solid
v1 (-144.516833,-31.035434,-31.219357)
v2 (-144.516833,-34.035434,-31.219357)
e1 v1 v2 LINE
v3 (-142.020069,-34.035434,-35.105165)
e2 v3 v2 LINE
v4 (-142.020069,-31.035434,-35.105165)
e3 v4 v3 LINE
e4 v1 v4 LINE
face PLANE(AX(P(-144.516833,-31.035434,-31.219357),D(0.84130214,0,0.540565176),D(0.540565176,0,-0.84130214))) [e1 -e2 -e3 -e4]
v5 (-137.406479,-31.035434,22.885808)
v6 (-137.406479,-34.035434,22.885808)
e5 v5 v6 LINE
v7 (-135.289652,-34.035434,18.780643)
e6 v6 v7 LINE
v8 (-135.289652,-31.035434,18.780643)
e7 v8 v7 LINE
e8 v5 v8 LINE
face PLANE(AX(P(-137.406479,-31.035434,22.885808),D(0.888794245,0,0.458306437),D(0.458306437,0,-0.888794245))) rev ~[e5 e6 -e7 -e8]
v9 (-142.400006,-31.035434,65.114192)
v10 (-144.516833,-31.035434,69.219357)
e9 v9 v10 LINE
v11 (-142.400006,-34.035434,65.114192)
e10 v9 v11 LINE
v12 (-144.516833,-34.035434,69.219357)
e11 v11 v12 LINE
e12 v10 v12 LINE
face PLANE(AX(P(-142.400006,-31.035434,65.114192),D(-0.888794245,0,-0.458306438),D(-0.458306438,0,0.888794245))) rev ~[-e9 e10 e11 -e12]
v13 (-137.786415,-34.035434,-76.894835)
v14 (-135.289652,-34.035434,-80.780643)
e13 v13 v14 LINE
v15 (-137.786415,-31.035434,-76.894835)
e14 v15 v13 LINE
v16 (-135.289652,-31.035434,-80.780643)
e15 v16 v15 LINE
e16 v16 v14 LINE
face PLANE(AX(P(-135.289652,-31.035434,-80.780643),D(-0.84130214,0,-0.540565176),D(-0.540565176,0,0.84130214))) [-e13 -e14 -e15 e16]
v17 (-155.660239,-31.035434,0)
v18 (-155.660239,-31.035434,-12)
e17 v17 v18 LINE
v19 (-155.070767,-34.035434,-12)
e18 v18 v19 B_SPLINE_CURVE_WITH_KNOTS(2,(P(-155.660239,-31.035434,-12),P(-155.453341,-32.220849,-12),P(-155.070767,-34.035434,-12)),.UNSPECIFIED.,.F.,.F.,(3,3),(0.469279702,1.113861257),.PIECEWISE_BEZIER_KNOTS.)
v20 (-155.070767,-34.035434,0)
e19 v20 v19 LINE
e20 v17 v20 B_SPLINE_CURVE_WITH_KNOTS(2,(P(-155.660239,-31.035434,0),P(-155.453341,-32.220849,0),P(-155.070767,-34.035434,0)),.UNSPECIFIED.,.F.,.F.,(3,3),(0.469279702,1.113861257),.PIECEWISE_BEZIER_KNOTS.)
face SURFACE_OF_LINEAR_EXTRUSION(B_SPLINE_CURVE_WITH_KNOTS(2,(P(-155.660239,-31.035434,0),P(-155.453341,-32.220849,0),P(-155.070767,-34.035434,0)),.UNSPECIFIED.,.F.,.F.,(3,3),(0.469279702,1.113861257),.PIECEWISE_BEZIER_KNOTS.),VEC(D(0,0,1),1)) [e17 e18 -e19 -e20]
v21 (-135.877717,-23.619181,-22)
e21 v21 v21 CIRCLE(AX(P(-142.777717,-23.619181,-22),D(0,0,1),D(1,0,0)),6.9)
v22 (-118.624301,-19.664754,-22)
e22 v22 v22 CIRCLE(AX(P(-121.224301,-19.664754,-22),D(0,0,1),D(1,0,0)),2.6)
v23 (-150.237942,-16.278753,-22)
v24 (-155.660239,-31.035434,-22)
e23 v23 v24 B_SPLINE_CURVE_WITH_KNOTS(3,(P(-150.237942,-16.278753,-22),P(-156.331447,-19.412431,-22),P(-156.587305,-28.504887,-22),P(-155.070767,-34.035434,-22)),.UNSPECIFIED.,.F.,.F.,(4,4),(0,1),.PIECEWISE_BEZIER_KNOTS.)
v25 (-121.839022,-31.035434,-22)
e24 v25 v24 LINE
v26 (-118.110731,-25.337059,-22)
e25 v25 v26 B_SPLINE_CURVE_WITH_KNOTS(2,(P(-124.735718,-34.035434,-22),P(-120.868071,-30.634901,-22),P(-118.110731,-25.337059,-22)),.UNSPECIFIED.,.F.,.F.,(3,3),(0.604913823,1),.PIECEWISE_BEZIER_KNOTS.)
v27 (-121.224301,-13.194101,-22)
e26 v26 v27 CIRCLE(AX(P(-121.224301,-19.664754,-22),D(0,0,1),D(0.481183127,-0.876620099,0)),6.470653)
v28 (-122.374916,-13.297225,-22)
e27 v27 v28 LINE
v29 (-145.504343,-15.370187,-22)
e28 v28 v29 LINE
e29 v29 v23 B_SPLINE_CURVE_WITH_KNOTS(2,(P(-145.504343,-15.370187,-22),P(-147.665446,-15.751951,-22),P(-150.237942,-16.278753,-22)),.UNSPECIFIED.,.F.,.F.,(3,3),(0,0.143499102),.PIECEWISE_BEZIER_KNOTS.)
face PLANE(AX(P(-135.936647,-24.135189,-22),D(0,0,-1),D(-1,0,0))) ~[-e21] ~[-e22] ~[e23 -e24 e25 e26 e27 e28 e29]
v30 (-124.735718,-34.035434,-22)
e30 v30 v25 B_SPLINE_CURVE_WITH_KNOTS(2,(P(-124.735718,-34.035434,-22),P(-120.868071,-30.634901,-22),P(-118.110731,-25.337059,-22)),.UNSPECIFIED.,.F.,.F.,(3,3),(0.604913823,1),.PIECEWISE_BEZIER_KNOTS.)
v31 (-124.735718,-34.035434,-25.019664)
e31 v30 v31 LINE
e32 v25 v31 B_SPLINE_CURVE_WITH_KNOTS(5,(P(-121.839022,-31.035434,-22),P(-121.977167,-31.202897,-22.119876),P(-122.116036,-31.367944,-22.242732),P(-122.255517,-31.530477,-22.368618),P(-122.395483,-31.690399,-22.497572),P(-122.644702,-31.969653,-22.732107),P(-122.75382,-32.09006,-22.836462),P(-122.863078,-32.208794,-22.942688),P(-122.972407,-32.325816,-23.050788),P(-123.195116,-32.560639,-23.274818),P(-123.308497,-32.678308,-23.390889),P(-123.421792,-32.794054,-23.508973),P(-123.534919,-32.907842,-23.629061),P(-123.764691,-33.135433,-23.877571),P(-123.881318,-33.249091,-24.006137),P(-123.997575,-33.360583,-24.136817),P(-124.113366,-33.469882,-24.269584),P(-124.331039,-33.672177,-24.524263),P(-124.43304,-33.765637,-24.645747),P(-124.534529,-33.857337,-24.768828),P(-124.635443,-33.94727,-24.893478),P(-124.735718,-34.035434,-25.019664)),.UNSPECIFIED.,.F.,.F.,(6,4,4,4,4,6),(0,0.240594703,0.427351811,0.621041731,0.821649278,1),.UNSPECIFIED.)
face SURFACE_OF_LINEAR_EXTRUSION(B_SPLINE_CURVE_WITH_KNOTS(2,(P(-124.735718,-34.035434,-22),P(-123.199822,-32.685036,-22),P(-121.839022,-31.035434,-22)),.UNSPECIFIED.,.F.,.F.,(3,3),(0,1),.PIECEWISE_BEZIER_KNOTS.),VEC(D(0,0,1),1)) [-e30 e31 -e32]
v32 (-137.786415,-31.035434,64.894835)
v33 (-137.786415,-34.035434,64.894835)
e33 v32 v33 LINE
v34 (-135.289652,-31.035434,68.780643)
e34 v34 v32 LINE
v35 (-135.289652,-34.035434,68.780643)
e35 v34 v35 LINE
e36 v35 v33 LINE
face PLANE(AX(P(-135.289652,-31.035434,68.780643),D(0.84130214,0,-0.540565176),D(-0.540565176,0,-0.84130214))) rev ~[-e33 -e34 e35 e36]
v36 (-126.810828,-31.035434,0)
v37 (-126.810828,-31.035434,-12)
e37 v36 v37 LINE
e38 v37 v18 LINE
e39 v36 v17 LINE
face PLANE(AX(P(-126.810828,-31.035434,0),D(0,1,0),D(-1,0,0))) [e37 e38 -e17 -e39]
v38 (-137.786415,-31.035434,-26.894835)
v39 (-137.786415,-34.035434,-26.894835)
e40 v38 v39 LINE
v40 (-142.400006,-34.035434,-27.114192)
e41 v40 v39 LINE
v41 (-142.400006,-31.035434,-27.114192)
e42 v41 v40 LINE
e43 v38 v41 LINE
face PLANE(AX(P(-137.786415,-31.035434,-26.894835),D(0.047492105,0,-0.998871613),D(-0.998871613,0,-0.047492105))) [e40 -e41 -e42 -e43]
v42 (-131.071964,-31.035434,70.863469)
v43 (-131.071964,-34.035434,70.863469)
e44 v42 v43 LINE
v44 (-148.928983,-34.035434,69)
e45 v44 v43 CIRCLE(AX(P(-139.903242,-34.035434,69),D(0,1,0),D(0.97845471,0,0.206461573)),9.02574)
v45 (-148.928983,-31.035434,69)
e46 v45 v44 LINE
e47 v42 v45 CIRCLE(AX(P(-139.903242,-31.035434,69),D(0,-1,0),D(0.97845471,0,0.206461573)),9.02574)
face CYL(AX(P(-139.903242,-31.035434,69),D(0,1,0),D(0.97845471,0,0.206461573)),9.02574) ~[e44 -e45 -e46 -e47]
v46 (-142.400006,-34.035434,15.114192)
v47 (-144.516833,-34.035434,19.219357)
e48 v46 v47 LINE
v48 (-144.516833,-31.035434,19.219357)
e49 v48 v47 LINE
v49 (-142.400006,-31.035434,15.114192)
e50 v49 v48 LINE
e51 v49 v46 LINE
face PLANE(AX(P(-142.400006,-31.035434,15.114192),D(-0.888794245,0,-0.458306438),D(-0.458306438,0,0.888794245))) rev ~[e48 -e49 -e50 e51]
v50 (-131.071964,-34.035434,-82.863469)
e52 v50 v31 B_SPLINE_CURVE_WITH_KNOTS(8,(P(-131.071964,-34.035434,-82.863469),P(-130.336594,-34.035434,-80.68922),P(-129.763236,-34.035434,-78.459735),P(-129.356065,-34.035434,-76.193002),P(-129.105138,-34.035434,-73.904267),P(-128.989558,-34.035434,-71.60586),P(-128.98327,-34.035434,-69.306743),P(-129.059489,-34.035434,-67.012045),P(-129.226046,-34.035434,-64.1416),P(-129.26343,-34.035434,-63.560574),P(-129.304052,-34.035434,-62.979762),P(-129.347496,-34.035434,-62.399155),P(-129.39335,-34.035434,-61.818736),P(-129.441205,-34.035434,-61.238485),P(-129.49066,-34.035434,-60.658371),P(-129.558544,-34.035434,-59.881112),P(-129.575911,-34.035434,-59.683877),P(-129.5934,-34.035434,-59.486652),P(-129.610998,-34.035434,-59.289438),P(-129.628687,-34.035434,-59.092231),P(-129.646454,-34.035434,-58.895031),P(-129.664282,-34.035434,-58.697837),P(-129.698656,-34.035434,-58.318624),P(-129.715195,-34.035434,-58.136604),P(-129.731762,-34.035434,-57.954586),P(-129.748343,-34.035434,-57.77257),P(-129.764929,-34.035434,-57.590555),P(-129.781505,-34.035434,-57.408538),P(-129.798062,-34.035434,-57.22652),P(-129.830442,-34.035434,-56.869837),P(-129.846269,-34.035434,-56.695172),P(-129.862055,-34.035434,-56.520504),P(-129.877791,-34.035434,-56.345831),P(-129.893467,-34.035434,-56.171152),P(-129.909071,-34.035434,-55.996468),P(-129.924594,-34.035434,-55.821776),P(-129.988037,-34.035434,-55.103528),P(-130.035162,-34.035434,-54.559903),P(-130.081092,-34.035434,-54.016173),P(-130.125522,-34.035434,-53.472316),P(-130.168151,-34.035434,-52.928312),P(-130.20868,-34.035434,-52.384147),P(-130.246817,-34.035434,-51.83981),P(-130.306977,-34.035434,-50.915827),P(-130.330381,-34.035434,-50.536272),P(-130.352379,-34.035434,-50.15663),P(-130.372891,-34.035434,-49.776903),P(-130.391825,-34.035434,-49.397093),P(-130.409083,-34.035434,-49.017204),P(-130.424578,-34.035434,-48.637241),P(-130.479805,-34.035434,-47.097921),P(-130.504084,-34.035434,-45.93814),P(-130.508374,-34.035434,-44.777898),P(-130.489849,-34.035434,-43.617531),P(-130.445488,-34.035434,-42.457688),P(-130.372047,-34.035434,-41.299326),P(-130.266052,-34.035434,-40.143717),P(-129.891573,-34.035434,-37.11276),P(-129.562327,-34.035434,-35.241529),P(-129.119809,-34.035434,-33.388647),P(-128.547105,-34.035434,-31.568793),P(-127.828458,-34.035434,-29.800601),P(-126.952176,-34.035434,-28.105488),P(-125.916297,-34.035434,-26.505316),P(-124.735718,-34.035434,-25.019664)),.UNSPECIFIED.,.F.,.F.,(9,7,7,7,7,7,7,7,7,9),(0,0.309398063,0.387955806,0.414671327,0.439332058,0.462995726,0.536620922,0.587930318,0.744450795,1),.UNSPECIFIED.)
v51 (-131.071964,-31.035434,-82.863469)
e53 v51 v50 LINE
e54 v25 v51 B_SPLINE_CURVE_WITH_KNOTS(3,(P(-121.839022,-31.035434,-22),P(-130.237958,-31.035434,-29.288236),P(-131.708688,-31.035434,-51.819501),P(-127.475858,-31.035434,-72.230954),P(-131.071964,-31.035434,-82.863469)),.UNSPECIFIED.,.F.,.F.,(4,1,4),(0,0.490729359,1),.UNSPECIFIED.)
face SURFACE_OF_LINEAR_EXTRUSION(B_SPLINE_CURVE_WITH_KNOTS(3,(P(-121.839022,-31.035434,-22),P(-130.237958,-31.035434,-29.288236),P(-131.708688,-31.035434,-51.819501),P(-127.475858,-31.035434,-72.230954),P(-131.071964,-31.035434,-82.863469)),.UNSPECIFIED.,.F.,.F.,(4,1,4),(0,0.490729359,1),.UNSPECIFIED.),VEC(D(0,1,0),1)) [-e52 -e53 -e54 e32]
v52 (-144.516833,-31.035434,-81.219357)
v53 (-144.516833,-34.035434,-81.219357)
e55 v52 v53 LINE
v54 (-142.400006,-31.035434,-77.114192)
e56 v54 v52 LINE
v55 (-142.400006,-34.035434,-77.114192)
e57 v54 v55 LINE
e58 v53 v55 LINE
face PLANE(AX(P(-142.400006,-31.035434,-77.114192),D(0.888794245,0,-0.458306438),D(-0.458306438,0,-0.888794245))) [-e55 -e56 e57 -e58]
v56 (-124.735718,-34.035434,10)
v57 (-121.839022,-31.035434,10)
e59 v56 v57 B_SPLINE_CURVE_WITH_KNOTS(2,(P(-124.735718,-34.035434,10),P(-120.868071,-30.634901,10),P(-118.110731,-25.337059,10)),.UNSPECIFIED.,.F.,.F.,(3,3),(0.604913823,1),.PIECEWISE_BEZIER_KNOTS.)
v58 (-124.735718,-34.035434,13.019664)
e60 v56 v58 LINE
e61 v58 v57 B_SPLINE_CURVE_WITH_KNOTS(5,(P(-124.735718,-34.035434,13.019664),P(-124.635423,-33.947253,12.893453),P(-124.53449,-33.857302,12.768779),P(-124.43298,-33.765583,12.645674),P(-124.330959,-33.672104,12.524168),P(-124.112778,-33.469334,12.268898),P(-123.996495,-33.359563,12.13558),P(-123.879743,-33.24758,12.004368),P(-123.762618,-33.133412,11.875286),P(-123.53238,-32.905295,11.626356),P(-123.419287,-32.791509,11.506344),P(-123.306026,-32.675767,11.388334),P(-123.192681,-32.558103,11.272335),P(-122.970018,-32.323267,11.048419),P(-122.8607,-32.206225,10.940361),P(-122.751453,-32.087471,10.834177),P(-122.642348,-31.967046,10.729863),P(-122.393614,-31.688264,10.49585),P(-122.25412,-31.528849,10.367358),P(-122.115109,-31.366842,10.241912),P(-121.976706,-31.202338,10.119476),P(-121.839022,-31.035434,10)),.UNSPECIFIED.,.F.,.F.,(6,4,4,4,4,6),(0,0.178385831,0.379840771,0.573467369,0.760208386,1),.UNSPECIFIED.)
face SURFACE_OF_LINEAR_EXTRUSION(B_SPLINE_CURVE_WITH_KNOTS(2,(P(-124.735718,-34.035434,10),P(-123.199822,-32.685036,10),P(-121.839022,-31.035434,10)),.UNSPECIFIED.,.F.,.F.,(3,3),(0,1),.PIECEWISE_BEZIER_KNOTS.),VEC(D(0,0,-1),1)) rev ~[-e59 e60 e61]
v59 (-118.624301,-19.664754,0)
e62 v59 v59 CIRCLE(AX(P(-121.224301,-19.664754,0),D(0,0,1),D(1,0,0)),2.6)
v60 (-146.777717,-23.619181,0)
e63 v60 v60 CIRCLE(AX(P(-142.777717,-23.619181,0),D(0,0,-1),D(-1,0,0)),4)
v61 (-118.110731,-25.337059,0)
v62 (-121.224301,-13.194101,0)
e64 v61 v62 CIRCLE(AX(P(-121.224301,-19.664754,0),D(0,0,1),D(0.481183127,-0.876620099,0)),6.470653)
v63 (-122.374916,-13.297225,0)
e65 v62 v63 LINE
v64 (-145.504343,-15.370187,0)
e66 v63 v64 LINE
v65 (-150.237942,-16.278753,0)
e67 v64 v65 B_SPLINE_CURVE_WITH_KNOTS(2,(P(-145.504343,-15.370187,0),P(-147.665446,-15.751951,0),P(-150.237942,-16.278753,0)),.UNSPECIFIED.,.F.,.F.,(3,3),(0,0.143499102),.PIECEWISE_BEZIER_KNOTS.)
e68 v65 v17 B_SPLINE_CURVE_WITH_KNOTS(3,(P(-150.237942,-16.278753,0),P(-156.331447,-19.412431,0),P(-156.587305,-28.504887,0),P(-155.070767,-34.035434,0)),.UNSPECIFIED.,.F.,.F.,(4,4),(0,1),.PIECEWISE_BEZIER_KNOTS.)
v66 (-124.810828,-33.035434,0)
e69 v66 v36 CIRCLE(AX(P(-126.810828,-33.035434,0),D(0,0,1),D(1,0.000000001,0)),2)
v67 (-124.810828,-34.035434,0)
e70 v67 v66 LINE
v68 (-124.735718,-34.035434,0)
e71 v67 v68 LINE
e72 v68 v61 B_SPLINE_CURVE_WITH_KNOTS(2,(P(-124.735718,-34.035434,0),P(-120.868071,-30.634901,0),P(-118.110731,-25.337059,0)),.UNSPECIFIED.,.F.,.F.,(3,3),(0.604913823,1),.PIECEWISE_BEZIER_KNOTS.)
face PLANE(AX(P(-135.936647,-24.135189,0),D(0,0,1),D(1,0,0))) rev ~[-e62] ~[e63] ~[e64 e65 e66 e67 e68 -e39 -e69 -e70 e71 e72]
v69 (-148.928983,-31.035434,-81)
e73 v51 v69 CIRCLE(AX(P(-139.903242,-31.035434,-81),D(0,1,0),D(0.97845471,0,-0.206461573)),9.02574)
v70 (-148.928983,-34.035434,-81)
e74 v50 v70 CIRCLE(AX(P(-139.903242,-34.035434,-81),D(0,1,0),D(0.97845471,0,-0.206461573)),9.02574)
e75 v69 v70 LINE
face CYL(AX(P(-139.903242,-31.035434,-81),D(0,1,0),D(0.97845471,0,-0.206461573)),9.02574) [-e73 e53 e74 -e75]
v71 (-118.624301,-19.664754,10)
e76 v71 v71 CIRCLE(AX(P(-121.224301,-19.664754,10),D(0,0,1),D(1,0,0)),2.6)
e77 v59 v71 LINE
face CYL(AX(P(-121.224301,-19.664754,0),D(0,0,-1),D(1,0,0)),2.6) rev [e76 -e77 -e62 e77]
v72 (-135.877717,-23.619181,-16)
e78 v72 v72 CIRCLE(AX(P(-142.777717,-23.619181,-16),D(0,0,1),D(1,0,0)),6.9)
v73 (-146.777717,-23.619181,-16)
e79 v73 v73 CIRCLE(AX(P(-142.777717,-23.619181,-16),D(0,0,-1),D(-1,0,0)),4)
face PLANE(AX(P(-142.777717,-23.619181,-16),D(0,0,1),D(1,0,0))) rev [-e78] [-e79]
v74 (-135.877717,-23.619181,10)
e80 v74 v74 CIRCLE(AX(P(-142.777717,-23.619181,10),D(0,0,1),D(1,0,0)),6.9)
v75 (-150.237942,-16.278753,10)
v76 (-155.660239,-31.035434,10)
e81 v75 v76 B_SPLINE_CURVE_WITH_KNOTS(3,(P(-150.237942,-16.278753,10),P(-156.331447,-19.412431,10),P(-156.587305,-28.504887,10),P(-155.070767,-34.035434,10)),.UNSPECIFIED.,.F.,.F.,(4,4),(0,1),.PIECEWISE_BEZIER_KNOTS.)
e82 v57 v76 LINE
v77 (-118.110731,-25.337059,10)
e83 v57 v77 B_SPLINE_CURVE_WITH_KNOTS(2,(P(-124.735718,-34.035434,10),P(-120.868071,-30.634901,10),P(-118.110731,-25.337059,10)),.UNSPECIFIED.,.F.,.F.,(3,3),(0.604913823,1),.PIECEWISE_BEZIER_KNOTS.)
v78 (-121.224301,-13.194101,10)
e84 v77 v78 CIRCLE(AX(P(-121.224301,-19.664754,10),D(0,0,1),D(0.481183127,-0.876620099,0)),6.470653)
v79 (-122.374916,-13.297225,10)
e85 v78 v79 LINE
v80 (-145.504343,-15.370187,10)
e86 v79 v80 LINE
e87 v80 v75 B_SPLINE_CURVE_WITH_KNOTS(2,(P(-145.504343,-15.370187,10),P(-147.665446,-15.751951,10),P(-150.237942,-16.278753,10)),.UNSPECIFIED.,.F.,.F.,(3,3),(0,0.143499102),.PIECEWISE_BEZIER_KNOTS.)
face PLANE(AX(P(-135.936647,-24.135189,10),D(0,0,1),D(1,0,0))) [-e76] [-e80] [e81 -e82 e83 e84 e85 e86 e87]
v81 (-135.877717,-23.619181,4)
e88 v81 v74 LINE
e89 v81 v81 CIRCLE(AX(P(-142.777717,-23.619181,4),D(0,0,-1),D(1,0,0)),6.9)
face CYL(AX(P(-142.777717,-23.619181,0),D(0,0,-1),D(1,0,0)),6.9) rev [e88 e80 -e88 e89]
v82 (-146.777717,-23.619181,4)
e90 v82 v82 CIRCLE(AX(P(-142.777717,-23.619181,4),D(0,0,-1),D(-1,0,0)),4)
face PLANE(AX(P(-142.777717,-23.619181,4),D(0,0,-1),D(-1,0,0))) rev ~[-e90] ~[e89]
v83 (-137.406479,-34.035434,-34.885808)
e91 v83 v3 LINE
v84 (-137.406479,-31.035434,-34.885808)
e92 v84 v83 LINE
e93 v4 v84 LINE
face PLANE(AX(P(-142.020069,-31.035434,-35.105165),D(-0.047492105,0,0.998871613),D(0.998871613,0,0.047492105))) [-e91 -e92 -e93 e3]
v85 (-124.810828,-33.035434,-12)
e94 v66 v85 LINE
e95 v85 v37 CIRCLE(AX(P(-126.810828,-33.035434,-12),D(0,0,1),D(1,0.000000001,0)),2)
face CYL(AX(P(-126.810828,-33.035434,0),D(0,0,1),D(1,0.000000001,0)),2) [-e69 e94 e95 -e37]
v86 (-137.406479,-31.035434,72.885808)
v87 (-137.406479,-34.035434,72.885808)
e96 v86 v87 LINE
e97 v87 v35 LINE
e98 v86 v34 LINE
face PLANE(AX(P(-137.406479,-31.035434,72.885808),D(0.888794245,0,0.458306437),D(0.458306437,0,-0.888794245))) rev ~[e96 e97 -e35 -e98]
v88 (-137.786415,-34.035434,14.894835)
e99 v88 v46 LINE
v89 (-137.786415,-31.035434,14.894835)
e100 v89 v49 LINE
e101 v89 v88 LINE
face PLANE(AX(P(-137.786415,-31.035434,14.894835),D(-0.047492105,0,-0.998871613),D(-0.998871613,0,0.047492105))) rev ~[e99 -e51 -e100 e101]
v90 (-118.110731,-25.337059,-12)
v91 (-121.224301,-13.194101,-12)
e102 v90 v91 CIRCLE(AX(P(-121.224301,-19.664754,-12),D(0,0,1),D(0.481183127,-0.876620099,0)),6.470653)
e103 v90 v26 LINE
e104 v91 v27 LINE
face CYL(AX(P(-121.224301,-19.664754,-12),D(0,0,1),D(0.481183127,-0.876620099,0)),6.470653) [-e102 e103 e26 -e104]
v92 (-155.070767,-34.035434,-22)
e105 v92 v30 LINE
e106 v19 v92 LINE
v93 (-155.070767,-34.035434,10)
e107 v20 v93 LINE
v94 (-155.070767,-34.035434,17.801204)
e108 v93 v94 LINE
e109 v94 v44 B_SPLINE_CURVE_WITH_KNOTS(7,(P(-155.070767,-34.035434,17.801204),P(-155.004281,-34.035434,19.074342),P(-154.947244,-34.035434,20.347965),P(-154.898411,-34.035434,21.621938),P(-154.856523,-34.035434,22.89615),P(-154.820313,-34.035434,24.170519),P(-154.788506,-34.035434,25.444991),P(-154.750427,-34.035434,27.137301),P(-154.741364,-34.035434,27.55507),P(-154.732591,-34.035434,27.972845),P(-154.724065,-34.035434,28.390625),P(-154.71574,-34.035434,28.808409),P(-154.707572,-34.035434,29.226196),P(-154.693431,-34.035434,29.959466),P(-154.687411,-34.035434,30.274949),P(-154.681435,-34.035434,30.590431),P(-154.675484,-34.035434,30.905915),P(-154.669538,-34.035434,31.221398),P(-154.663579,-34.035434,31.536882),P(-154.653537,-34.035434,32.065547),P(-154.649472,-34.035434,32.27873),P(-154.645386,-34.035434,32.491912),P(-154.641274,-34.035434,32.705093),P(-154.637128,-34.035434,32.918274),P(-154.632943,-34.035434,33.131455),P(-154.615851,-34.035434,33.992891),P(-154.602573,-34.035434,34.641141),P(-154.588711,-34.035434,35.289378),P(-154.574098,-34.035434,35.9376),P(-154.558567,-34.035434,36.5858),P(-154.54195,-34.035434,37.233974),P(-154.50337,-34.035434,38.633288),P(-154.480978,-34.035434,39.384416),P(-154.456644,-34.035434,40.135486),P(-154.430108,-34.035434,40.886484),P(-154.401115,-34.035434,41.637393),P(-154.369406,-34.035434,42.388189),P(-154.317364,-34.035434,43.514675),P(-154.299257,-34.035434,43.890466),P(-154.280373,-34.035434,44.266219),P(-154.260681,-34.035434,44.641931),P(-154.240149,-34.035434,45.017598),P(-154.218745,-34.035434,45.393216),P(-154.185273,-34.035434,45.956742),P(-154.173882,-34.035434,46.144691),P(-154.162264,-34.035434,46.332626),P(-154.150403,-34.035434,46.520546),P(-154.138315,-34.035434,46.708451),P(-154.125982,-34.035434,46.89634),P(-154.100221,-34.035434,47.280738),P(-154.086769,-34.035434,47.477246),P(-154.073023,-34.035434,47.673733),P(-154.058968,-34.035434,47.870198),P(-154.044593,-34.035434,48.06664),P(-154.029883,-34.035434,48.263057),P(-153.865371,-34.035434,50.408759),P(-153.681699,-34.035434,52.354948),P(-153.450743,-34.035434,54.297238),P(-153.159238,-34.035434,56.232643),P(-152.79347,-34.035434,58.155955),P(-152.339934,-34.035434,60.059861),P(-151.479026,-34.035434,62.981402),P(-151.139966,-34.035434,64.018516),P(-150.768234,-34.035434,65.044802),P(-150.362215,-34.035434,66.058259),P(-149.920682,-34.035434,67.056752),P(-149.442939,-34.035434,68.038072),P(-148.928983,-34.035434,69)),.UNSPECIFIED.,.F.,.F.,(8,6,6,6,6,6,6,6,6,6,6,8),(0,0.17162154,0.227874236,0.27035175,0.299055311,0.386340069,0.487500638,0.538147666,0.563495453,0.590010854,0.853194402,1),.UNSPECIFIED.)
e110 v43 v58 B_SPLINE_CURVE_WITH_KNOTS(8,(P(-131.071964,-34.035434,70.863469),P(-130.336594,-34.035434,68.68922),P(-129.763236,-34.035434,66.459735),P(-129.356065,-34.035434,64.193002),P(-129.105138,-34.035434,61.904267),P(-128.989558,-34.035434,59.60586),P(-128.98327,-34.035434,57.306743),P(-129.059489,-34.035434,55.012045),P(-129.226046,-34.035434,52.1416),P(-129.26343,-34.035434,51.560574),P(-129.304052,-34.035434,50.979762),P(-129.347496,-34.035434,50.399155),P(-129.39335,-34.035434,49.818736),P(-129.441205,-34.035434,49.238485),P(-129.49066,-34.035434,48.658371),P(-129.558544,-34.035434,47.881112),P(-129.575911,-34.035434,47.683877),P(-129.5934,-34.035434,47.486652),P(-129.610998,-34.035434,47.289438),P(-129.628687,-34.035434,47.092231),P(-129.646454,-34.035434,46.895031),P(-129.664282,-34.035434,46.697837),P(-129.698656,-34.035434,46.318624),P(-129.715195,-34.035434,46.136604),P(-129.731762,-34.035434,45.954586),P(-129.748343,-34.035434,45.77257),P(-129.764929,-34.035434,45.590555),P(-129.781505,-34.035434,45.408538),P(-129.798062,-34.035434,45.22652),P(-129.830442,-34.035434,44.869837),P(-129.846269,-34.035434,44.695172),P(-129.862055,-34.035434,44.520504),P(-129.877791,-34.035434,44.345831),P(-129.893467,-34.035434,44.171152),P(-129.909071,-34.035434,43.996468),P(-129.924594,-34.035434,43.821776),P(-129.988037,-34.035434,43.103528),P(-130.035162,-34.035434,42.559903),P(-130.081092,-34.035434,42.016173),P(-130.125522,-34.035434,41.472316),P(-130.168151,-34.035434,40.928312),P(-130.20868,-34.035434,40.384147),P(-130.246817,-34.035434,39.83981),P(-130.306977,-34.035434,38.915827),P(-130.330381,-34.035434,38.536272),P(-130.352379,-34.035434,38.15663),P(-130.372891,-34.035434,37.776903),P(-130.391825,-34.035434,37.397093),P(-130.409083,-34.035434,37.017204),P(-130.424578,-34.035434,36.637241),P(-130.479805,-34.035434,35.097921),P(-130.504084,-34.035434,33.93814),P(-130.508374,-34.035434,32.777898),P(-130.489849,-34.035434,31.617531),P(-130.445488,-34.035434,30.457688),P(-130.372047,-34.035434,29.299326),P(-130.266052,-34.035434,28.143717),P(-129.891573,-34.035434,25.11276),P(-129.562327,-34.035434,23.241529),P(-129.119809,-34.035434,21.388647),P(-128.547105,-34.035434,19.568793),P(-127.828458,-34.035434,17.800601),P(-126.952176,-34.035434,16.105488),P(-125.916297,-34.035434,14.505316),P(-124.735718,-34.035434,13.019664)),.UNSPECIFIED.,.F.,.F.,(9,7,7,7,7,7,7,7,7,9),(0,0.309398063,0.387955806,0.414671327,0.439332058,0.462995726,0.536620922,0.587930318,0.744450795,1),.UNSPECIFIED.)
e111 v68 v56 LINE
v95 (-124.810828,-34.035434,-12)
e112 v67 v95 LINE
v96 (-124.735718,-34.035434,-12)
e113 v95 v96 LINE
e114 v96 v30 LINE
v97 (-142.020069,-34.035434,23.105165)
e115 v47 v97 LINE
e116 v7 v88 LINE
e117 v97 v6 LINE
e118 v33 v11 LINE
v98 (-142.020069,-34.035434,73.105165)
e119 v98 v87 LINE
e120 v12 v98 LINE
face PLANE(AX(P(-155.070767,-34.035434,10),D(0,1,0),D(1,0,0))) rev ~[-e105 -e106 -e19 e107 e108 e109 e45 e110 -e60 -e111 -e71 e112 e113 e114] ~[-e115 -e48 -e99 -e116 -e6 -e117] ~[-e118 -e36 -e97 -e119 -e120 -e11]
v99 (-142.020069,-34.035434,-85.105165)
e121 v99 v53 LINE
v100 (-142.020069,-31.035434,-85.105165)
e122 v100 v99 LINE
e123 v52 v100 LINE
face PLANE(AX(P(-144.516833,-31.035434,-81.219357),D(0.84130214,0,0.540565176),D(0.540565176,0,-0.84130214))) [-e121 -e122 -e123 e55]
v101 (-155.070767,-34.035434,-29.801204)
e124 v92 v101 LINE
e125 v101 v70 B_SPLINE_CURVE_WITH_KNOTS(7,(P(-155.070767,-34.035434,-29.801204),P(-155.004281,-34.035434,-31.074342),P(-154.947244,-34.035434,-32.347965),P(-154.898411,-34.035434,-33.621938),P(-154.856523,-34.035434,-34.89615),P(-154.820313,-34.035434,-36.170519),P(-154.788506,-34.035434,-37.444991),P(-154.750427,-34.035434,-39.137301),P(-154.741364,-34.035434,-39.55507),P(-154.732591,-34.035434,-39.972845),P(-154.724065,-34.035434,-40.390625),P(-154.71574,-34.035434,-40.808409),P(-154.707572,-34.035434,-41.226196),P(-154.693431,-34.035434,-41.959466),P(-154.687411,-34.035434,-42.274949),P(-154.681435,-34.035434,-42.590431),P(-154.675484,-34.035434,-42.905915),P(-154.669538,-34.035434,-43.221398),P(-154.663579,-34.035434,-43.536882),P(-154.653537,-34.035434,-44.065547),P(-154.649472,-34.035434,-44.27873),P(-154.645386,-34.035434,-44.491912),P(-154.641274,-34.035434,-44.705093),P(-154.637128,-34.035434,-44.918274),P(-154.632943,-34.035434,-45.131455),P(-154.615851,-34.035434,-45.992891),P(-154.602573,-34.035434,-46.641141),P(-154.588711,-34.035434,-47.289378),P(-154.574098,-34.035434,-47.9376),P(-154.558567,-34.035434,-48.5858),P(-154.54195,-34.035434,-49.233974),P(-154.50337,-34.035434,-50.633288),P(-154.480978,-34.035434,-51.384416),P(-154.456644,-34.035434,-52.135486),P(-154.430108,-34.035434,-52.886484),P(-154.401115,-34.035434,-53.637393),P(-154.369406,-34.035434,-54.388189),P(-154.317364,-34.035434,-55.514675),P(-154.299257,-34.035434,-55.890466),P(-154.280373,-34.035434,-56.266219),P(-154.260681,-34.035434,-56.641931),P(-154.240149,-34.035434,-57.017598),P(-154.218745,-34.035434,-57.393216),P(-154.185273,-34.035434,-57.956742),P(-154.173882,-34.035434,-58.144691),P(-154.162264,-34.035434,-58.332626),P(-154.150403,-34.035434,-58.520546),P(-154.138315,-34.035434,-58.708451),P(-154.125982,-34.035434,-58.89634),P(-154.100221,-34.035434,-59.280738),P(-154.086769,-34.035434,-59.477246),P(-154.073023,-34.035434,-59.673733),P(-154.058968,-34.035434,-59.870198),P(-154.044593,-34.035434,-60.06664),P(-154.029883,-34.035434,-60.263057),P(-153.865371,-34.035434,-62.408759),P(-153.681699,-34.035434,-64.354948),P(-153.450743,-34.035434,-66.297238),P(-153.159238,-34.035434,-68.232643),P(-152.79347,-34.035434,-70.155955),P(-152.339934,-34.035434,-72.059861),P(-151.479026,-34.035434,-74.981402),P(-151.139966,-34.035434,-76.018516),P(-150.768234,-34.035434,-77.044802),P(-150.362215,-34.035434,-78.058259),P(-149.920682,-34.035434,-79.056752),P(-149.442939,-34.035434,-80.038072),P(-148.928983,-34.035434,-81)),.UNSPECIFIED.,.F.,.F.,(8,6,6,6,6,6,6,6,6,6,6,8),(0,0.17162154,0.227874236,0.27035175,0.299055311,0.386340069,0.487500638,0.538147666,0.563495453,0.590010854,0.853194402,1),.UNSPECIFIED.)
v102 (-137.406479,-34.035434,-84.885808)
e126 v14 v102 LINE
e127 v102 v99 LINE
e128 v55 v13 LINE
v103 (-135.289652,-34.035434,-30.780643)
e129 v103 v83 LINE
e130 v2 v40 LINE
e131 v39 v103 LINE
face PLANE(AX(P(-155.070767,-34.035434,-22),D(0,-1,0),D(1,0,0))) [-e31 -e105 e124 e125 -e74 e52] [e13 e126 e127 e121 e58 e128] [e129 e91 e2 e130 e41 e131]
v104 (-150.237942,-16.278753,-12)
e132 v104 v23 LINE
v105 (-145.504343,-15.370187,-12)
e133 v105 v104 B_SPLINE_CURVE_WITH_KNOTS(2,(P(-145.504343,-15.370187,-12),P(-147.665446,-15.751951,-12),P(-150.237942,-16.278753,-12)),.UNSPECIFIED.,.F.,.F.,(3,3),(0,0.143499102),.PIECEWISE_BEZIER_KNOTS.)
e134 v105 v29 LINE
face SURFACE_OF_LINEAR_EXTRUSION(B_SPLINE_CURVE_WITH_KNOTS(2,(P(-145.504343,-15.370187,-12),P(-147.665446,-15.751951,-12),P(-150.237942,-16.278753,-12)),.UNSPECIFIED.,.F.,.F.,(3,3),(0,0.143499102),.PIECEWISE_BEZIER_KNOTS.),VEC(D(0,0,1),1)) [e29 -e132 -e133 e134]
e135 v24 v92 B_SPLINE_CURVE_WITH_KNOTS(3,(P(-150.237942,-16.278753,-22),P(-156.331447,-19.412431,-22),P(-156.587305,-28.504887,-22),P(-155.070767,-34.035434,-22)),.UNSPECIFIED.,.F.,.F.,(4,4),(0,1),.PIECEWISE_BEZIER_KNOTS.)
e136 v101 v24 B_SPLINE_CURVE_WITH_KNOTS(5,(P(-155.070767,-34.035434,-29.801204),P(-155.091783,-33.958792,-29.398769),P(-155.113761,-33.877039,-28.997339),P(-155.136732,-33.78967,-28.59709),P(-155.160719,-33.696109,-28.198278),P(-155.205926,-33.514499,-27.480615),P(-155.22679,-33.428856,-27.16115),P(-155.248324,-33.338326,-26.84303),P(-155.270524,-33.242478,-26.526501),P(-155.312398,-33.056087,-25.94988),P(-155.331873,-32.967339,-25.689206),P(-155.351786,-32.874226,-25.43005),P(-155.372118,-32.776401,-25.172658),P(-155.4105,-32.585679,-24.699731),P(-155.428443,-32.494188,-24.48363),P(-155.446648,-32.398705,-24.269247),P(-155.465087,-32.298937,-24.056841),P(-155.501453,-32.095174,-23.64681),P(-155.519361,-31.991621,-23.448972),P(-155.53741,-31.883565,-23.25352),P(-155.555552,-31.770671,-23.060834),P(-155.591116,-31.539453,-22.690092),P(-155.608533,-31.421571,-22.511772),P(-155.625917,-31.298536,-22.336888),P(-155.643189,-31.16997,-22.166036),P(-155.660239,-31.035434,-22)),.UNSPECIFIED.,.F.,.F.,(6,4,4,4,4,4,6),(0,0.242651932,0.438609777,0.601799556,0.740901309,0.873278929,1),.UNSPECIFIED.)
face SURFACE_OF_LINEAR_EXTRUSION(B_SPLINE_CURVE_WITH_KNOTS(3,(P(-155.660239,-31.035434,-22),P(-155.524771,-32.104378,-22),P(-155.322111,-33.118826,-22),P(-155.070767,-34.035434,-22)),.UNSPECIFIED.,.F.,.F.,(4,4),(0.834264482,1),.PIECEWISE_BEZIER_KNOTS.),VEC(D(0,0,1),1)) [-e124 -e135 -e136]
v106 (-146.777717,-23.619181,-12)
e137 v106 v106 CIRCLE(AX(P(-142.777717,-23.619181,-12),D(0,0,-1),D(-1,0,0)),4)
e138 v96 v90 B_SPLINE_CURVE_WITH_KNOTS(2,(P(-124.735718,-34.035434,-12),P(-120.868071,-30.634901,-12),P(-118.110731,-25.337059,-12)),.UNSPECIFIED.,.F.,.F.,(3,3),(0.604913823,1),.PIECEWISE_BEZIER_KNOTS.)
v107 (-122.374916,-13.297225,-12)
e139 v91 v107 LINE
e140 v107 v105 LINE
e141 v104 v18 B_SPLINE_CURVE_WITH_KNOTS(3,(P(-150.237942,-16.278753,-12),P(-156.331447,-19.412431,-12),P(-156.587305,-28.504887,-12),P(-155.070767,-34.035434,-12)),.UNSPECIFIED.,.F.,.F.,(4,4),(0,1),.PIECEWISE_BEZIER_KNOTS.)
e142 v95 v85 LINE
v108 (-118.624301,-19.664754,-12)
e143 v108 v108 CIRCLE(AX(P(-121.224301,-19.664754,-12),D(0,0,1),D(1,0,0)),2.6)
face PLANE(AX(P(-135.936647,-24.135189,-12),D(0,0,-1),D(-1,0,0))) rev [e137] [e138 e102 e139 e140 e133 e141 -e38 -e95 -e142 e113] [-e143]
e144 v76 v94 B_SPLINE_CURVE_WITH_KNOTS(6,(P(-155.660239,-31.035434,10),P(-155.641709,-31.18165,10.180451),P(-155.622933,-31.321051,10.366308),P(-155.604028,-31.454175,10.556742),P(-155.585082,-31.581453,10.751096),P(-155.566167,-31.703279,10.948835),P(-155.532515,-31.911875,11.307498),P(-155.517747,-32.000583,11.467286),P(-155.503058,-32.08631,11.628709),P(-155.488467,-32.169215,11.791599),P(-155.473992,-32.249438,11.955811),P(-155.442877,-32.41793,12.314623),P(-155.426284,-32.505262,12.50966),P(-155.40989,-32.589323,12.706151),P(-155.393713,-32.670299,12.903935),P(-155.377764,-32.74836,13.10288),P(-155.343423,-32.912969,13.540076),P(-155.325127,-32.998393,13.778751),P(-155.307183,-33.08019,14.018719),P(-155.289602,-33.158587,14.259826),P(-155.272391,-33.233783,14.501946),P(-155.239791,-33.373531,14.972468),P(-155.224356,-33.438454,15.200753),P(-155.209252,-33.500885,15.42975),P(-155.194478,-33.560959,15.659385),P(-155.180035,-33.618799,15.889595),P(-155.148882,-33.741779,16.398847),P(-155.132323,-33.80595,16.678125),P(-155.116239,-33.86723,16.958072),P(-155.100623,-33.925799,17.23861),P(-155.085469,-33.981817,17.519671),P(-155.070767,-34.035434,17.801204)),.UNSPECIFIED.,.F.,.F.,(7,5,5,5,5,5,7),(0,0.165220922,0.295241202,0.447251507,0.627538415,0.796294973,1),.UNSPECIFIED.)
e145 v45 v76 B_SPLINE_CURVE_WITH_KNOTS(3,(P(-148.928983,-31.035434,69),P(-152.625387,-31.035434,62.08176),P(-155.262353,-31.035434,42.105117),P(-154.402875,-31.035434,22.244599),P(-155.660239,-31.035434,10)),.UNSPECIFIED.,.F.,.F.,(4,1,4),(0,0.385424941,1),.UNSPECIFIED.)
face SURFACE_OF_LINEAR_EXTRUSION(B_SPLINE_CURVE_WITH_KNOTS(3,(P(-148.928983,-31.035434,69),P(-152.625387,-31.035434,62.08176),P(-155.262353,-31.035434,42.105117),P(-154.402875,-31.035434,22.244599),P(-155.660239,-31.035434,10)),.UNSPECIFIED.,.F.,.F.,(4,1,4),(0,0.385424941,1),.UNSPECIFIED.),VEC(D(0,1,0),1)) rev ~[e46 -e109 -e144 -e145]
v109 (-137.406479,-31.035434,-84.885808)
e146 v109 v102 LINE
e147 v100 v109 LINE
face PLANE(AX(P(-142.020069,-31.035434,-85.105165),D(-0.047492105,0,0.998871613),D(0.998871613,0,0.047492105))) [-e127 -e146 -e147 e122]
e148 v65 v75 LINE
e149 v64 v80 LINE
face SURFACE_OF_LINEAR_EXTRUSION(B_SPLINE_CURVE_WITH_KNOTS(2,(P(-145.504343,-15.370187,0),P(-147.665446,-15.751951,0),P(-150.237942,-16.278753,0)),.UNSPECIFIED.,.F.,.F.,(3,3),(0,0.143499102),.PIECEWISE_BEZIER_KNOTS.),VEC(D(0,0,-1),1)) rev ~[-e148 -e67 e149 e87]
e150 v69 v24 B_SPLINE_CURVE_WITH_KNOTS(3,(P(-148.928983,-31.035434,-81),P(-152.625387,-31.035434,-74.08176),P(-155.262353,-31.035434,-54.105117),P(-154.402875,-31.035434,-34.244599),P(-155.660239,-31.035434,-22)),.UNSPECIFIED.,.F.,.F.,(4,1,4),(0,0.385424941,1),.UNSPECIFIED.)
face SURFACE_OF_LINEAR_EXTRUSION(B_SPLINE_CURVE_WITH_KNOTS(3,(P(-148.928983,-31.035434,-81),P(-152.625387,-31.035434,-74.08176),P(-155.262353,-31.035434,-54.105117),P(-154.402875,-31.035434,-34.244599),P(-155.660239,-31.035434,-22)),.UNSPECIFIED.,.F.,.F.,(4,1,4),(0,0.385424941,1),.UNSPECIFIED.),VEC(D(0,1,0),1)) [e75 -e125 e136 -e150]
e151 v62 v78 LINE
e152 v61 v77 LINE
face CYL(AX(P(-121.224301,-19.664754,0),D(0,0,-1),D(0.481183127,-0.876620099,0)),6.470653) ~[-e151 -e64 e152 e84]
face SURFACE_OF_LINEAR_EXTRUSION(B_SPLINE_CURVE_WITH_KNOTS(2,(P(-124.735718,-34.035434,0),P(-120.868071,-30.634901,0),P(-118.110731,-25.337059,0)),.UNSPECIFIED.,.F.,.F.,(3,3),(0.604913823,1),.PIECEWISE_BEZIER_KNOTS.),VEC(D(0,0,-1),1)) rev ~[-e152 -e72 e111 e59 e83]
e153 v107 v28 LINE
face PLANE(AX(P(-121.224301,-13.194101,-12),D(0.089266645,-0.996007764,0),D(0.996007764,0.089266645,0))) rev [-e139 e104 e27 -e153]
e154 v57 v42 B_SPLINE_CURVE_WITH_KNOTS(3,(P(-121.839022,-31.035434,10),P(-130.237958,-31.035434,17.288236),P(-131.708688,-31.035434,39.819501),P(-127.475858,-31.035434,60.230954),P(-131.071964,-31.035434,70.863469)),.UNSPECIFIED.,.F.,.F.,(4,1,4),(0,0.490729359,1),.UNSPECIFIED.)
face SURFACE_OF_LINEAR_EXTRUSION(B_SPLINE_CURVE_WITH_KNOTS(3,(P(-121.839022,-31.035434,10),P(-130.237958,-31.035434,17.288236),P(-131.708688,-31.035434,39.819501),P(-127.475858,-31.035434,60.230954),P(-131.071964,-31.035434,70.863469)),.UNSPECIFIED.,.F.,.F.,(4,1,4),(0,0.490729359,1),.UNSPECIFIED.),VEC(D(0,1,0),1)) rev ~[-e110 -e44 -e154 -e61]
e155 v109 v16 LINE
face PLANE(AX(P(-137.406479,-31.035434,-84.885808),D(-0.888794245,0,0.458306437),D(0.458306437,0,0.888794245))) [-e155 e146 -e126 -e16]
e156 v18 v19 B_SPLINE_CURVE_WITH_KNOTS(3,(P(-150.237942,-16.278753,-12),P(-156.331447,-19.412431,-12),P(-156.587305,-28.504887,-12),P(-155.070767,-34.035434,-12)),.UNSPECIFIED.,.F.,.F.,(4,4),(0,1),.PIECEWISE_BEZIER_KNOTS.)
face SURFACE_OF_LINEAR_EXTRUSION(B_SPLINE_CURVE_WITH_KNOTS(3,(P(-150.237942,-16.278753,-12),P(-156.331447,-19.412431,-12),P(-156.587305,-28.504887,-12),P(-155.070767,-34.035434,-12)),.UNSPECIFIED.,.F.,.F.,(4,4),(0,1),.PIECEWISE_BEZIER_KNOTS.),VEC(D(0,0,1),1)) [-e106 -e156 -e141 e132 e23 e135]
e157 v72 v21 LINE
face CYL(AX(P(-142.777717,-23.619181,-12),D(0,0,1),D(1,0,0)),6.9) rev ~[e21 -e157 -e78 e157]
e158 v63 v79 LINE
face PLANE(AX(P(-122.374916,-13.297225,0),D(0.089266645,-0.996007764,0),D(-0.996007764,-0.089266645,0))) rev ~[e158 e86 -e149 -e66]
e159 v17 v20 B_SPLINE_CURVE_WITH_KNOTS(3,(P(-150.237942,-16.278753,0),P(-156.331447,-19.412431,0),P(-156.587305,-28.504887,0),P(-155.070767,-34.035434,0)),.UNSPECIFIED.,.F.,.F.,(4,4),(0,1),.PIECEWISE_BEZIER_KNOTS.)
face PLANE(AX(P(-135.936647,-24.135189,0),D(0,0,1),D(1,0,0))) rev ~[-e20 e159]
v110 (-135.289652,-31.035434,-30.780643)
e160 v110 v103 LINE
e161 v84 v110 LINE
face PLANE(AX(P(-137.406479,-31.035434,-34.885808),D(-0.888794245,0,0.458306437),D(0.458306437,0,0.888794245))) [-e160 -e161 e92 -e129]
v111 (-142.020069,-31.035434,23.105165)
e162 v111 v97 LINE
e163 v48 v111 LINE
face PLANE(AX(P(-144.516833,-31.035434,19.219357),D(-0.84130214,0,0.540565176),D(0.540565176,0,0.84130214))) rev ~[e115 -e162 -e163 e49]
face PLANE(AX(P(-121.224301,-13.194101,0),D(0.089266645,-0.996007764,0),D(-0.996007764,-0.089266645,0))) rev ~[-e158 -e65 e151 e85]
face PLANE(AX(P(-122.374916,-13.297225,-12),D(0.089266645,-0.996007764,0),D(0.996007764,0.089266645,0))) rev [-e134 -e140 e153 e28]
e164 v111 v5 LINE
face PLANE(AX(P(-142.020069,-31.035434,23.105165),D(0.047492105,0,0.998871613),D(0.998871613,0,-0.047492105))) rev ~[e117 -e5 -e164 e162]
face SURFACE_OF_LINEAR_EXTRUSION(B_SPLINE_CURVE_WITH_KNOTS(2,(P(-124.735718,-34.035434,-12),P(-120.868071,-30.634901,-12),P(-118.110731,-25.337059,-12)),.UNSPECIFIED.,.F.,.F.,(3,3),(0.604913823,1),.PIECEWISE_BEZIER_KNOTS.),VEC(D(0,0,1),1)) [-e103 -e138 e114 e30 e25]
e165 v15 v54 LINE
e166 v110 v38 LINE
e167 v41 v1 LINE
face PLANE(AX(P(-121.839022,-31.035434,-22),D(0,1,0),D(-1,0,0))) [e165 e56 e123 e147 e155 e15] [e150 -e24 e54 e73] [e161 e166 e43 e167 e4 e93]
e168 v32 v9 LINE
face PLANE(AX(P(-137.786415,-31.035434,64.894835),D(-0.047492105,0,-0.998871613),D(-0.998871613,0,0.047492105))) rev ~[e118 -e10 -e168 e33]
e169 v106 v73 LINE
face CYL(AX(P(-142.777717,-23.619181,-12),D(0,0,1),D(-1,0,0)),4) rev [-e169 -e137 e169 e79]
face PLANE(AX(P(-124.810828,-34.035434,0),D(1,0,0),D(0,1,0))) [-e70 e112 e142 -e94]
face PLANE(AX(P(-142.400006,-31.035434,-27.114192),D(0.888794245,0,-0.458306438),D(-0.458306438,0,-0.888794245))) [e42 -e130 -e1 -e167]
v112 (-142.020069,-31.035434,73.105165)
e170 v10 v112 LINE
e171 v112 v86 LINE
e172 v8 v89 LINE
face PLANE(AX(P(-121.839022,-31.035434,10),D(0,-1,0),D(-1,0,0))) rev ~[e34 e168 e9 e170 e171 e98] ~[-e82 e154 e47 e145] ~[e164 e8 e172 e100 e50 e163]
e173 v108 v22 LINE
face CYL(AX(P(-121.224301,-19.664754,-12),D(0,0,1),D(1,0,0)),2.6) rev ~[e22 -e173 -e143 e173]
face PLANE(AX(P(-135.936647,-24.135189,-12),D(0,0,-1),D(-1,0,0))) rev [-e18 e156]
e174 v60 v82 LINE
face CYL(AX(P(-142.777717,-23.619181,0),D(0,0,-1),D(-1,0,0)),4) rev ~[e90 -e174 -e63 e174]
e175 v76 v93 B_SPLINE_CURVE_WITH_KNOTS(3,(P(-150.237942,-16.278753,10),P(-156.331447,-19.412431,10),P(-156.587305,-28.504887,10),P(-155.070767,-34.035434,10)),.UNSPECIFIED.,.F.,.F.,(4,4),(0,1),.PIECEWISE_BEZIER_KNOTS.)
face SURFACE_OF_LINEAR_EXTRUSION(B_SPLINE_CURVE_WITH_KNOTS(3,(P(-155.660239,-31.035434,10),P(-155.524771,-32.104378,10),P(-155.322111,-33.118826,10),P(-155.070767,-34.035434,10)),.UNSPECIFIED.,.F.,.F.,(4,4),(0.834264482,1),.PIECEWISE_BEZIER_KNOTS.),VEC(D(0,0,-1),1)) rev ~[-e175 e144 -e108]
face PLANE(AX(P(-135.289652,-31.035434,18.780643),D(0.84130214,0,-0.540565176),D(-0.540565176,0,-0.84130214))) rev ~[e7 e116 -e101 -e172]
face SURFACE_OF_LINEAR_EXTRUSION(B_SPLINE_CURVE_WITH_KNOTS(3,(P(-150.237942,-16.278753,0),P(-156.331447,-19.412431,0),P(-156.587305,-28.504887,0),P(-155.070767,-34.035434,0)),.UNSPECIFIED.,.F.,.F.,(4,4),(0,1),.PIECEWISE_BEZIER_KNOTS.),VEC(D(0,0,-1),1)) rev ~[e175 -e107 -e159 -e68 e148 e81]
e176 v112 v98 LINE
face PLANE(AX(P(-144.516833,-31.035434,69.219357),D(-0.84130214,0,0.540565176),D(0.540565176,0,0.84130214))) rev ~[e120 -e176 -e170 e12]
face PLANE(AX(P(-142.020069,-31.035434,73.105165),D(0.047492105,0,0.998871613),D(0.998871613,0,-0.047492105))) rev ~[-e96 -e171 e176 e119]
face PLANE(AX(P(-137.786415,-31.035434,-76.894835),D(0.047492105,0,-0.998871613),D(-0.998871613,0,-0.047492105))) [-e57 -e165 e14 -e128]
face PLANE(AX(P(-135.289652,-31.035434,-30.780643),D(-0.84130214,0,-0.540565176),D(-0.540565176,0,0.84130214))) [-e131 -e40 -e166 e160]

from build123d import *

# Parameters (mm, degrees)
SKETCH1_R           = 6.9
SKETCH1_R_2         = 2.6
BOSS_EXTRUDE1_DEPTH = 10
BOSS_EXTRUDE2_DEPTH = 12
SKETCH3_R           = 7
SKETCH3_R_2         = 4
BOSS_EXTRUDE3_DEPTH = 4
BOSS_EXTRUDE4_DEPTH = 84
BOSS_EXTRUDE5_DEPTH = 84
CUT_EXTRUDE1_DEPTH  = 190.323263107


with BuildPart() as part:
    # Sketch1 → Boss-Extrude1 (new body)
    with BuildSketch(Plane.XY):
        with BuildLine():
            Line((-155.070766667, -34.03543395), (-139.182010536, -34.03543395))
            Line((-139.182010536, -34.03543395), (-124.735717634, -34.03543395))
            add(Edge.make_bspline(
                [(-124.735717634, -34.03543395), (-120.868070652, -30.634901056), (-118.110731489, -25.337058748)],
                knots=[0.604913823, 0.604913823, 0.604913823, 1, 1, 1], degree=2))
            ThreePointArc((-118.110731489, -25.337058748), (-114.956411592, -18.057608365), (-121.224300514, -13.194101363))
            Line((-121.224300514, -13.194101363), (-122.374915538, -13.297224598))
            Line((-122.374915538, -13.297224598), (-145.504342678, -15.370186717))
            add(Edge.make_bspline(
                [(-145.504342678, -15.370186717), (-147.665446471, -15.751951197), (-150.237941893, -16.278752791)],
                knots=[0, 0, 0, 0.143499102, 0.143499102, 0.143499102], degree=2))
            add(Edge.make_bspline(
                [(-150.237941893, -16.278752791), (-156.331446907, -19.412430802), (-156.587305002, -28.504886835), (-155.070766667, -34.03543395)],
                knots=[0, 0, 0, 0, 1, 1, 1, 1], degree=3))
        make_face()
        with Locations((-142.777717077, -23.619181221)):
            Circle(SKETCH1_R, mode=Mode.SUBTRACT)
        with Locations((-121.224300514, -19.664754316)):
            Circle(SKETCH1_R_2, mode=Mode.SUBTRACT)
    boss_extrude1 = extrude(amount=BOSS_EXTRUDE1_DEPTH)

    # Sketch2 → Boss-Extrude2 (add)
    with BuildSketch(Plane(origin=(0, 0, 0), x_dir=(-1, 0, 0), z_dir=(0, 0, -1))):
        with BuildLine():
            Line((124.810828249, -34.03543395), (124.810828249, -33.03543395))
            ThreePointArc((124.810828249, -33.03543395), (125.396614687, -31.621220388), (126.810828249, -31.03543395))
            Line((126.810828249, -31.03543395), (155.660238601, -31.03543395))
            add(Edge.make_bspline(
                [(155.660238601, -31.03543395), (155.453340821, -32.220849379), (155.070766667, -34.03543395)],
                knots=[0.469279702, 0.469279702, 0.469279702, 1.113861257, 1.113861257, 1.113861257], degree=2))
            Line((155.070766667, -34.03543395), (124.810828249, -34.03543395))
        make_face()
    extrude(amount=BOSS_EXTRUDE2_DEPTH)

    # Mirror1: Boss-Extrude1 across plane
    add(boss_extrude1.mirror(Plane(origin=(0, 0, -6), x_dir=(1, 0, 0), z_dir=(0, 0, -1))))

    # Sketch3 → Boss-Extrude3 (add)
    with BuildSketch(Plane(origin=(0, 0, 0), x_dir=(-1, 0, 0), z_dir=(0, 0, -1))):
        with Locations((142.777717077, -23.619181221)):
            Circle(SKETCH3_R)
        with Locations((142.777717077, -23.619181221)):
            Circle(SKETCH3_R_2, mode=Mode.SUBTRACT)
    boss_extrude3 = extrude(amount=-BOSS_EXTRUDE3_DEPTH)

    # Mirror2: Boss-Extrude3 across plane
    add(boss_extrude3.mirror(Plane(origin=(0, 0, -6), x_dir=(1, 0, 0), z_dir=(0, 0, -1))))

    # Sketch4 → Boss-Extrude4 (add)
    with BuildSketch(Plane.XY.offset(10)):
        with BuildLine():
            add(Edge.make_bspline(
                [(-155.660238601, -31.03543395), (-155.52477055, -32.104378324), (-155.322110933, -33.11882586), (-155.070766667, -34.03543395)],
                knots=[0.834264482, 0.834264482, 0.834264482, 0.834264482, 1, 1, 1, 1], degree=3))
            Line((-155.070766667, -34.03543395), (-124.735717634, -34.03543395))
            add(Edge.make_bspline(
                [(-124.735717634, -34.03543395), (-123.199822379, -32.685036057), (-121.8390218, -31.03543395)],
                knots=[0, 0, 0, 1, 1, 1], degree=2))
            Line((-121.8390218, -31.03543395), (-155.660238601, -31.03543395))
        make_face()
    extrude(amount=BOSS_EXTRUDE4_DEPTH)

    # Sketch5 → Boss-Extrude5 (add)
    with BuildSketch(Plane(origin=(0, 0, -22), x_dir=(-1, 0, 0), z_dir=(0, 0, -1))):
        with BuildLine():
            Line((155.070766667, -34.03543395), (124.735717633, -34.035433949))
            add(Edge.make_bspline(
                [(124.735717633, -34.035433949), (123.199822378, -32.685036056), (121.8390218, -31.03543395)],
                knots=[0, 0, 0, 1, 1, 1], degree=2))
            Line((121.8390218, -31.03543395), (155.660238601, -31.03543395))
            add(Edge.make_bspline(
                [(155.660238601, -31.03543395), (155.52477055, -32.104378324), (155.322110933, -33.11882586), (155.070766667, -34.03543395)],
                knots=[0.834264482, 0.834264482, 0.834264482, 0.834264482, 1, 1, 1, 1], degree=3))
        make_face()
    extrude(amount=BOSS_EXTRUDE5_DEPTH)

    # Sketch6 → Cut-Extrude1 (cut, through all)
    with BuildSketch(Plane(origin=(0, -31.03543395, 0), x_dir=(1, 0, 0), z_dir=(0, 1, 0))):
        Polygon((-137.786415389, 76.894835229), (-142.400005748, 77.114191864), (-144.516832509, 81.219356636), (-142.02006891, 85.105164771), (-137.406478551, 84.885808136), (-135.289651791, 80.780643364), align=None)
        Polygon((-135.289651791, 30.780643364), (-137.786415389, 26.894835229), (-142.400005748, 27.114191864), (-144.516832509, 31.219356636), (-142.02006891, 35.105164771), (-137.406478551, 34.885808136), align=None)
        with BuildLine():
            Line((-155.6602386, 22), (-173.465321409, 22))
            Line((-173.465321409, 22), (-173.465321409, 117.834139367))
            Line((-173.465321409, 117.834139367), (-100.430925903, 117.834139367))
            Line((-100.430925903, 117.834139367), (-121.8390218, 22))
            add(Edge.make_bspline(
                [(-121.8390218, 22), (-130.237957541, 29.288236007), (-131.708688401, 51.819501052), (-127.475857655, 72.230953717), (-131.071963897, 82.863468574)],
                knots=[0, 0, 0, 0, 0.490729359, 1, 1, 1, 1], degree=3))
            ThreePointArc((-131.071963897, 82.863468574), (-140.840035974, 89.976993263), (-148.928982602, 81))
            add(Edge.make_bspline(
                [(-148.928982602, 81), (-152.625386512, 74.081760345), (-155.262352814, 54.105117148), (-154.402874629, 34.24459948), (-155.6602386, 22)],
                knots=[0, 0, 0, 0, 0.385424941, 1, 1, 1, 1], degree=3))
        make_face()
        with BuildLine():
            Line((-100.430925903, -105.834139367), (-121.8390218, -10))
            add(Edge.make_bspline(
                [(-121.8390218, -10), (-130.237957541, -17.288236007), (-131.708688401, -39.819501052), (-127.475857655, -60.230953717), (-131.071963897, -70.863468574)],
                knots=[0, 0, 0, 0, 0.490729359, 1, 1, 1, 1], degree=3))
            ThreePointArc((-131.071963897, -70.863468574), (-140.840035974, -77.976993263), (-148.928982602, -69))
            add(Edge.make_bspline(
                [(-148.928982602, -69), (-152.625386512, -62.081760345), (-155.262352814, -42.105117148), (-154.402874629, -22.24459948), (-155.6602386, -10)],
                knots=[0, 0, 0, 0, 0.385424941, 1, 1, 1, 1], degree=3))
            Line((-155.6602386, -10), (-173.465321409, -10))
            Line((-173.465321409, -10), (-173.465321409, -105.834139367))
            Line((-173.465321409, -105.834139367), (-100.430925903, -105.834139367))
        make_face()
        Polygon((-142.02006891, -23.105164771), (-137.406478551, -22.885808136), (-135.289651791, -18.780643364), (-137.786415389, -14.894835229), (-142.400005748, -15.114191864), (-144.516832509, -19.219356636), align=None)
        Polygon((-135.289651791, -68.780643364), (-137.786415389, -64.894835229), (-142.400005748, -65.114191864), (-144.516832509, -69.219356636), (-142.02006891, -73.105164771), (-137.406478551, -72.885808136), align=None)
    extrude(amount=-CUT_EXTRUDE1_DEPTH, mode=Mode.SUBTRACT)


solid = part.part
